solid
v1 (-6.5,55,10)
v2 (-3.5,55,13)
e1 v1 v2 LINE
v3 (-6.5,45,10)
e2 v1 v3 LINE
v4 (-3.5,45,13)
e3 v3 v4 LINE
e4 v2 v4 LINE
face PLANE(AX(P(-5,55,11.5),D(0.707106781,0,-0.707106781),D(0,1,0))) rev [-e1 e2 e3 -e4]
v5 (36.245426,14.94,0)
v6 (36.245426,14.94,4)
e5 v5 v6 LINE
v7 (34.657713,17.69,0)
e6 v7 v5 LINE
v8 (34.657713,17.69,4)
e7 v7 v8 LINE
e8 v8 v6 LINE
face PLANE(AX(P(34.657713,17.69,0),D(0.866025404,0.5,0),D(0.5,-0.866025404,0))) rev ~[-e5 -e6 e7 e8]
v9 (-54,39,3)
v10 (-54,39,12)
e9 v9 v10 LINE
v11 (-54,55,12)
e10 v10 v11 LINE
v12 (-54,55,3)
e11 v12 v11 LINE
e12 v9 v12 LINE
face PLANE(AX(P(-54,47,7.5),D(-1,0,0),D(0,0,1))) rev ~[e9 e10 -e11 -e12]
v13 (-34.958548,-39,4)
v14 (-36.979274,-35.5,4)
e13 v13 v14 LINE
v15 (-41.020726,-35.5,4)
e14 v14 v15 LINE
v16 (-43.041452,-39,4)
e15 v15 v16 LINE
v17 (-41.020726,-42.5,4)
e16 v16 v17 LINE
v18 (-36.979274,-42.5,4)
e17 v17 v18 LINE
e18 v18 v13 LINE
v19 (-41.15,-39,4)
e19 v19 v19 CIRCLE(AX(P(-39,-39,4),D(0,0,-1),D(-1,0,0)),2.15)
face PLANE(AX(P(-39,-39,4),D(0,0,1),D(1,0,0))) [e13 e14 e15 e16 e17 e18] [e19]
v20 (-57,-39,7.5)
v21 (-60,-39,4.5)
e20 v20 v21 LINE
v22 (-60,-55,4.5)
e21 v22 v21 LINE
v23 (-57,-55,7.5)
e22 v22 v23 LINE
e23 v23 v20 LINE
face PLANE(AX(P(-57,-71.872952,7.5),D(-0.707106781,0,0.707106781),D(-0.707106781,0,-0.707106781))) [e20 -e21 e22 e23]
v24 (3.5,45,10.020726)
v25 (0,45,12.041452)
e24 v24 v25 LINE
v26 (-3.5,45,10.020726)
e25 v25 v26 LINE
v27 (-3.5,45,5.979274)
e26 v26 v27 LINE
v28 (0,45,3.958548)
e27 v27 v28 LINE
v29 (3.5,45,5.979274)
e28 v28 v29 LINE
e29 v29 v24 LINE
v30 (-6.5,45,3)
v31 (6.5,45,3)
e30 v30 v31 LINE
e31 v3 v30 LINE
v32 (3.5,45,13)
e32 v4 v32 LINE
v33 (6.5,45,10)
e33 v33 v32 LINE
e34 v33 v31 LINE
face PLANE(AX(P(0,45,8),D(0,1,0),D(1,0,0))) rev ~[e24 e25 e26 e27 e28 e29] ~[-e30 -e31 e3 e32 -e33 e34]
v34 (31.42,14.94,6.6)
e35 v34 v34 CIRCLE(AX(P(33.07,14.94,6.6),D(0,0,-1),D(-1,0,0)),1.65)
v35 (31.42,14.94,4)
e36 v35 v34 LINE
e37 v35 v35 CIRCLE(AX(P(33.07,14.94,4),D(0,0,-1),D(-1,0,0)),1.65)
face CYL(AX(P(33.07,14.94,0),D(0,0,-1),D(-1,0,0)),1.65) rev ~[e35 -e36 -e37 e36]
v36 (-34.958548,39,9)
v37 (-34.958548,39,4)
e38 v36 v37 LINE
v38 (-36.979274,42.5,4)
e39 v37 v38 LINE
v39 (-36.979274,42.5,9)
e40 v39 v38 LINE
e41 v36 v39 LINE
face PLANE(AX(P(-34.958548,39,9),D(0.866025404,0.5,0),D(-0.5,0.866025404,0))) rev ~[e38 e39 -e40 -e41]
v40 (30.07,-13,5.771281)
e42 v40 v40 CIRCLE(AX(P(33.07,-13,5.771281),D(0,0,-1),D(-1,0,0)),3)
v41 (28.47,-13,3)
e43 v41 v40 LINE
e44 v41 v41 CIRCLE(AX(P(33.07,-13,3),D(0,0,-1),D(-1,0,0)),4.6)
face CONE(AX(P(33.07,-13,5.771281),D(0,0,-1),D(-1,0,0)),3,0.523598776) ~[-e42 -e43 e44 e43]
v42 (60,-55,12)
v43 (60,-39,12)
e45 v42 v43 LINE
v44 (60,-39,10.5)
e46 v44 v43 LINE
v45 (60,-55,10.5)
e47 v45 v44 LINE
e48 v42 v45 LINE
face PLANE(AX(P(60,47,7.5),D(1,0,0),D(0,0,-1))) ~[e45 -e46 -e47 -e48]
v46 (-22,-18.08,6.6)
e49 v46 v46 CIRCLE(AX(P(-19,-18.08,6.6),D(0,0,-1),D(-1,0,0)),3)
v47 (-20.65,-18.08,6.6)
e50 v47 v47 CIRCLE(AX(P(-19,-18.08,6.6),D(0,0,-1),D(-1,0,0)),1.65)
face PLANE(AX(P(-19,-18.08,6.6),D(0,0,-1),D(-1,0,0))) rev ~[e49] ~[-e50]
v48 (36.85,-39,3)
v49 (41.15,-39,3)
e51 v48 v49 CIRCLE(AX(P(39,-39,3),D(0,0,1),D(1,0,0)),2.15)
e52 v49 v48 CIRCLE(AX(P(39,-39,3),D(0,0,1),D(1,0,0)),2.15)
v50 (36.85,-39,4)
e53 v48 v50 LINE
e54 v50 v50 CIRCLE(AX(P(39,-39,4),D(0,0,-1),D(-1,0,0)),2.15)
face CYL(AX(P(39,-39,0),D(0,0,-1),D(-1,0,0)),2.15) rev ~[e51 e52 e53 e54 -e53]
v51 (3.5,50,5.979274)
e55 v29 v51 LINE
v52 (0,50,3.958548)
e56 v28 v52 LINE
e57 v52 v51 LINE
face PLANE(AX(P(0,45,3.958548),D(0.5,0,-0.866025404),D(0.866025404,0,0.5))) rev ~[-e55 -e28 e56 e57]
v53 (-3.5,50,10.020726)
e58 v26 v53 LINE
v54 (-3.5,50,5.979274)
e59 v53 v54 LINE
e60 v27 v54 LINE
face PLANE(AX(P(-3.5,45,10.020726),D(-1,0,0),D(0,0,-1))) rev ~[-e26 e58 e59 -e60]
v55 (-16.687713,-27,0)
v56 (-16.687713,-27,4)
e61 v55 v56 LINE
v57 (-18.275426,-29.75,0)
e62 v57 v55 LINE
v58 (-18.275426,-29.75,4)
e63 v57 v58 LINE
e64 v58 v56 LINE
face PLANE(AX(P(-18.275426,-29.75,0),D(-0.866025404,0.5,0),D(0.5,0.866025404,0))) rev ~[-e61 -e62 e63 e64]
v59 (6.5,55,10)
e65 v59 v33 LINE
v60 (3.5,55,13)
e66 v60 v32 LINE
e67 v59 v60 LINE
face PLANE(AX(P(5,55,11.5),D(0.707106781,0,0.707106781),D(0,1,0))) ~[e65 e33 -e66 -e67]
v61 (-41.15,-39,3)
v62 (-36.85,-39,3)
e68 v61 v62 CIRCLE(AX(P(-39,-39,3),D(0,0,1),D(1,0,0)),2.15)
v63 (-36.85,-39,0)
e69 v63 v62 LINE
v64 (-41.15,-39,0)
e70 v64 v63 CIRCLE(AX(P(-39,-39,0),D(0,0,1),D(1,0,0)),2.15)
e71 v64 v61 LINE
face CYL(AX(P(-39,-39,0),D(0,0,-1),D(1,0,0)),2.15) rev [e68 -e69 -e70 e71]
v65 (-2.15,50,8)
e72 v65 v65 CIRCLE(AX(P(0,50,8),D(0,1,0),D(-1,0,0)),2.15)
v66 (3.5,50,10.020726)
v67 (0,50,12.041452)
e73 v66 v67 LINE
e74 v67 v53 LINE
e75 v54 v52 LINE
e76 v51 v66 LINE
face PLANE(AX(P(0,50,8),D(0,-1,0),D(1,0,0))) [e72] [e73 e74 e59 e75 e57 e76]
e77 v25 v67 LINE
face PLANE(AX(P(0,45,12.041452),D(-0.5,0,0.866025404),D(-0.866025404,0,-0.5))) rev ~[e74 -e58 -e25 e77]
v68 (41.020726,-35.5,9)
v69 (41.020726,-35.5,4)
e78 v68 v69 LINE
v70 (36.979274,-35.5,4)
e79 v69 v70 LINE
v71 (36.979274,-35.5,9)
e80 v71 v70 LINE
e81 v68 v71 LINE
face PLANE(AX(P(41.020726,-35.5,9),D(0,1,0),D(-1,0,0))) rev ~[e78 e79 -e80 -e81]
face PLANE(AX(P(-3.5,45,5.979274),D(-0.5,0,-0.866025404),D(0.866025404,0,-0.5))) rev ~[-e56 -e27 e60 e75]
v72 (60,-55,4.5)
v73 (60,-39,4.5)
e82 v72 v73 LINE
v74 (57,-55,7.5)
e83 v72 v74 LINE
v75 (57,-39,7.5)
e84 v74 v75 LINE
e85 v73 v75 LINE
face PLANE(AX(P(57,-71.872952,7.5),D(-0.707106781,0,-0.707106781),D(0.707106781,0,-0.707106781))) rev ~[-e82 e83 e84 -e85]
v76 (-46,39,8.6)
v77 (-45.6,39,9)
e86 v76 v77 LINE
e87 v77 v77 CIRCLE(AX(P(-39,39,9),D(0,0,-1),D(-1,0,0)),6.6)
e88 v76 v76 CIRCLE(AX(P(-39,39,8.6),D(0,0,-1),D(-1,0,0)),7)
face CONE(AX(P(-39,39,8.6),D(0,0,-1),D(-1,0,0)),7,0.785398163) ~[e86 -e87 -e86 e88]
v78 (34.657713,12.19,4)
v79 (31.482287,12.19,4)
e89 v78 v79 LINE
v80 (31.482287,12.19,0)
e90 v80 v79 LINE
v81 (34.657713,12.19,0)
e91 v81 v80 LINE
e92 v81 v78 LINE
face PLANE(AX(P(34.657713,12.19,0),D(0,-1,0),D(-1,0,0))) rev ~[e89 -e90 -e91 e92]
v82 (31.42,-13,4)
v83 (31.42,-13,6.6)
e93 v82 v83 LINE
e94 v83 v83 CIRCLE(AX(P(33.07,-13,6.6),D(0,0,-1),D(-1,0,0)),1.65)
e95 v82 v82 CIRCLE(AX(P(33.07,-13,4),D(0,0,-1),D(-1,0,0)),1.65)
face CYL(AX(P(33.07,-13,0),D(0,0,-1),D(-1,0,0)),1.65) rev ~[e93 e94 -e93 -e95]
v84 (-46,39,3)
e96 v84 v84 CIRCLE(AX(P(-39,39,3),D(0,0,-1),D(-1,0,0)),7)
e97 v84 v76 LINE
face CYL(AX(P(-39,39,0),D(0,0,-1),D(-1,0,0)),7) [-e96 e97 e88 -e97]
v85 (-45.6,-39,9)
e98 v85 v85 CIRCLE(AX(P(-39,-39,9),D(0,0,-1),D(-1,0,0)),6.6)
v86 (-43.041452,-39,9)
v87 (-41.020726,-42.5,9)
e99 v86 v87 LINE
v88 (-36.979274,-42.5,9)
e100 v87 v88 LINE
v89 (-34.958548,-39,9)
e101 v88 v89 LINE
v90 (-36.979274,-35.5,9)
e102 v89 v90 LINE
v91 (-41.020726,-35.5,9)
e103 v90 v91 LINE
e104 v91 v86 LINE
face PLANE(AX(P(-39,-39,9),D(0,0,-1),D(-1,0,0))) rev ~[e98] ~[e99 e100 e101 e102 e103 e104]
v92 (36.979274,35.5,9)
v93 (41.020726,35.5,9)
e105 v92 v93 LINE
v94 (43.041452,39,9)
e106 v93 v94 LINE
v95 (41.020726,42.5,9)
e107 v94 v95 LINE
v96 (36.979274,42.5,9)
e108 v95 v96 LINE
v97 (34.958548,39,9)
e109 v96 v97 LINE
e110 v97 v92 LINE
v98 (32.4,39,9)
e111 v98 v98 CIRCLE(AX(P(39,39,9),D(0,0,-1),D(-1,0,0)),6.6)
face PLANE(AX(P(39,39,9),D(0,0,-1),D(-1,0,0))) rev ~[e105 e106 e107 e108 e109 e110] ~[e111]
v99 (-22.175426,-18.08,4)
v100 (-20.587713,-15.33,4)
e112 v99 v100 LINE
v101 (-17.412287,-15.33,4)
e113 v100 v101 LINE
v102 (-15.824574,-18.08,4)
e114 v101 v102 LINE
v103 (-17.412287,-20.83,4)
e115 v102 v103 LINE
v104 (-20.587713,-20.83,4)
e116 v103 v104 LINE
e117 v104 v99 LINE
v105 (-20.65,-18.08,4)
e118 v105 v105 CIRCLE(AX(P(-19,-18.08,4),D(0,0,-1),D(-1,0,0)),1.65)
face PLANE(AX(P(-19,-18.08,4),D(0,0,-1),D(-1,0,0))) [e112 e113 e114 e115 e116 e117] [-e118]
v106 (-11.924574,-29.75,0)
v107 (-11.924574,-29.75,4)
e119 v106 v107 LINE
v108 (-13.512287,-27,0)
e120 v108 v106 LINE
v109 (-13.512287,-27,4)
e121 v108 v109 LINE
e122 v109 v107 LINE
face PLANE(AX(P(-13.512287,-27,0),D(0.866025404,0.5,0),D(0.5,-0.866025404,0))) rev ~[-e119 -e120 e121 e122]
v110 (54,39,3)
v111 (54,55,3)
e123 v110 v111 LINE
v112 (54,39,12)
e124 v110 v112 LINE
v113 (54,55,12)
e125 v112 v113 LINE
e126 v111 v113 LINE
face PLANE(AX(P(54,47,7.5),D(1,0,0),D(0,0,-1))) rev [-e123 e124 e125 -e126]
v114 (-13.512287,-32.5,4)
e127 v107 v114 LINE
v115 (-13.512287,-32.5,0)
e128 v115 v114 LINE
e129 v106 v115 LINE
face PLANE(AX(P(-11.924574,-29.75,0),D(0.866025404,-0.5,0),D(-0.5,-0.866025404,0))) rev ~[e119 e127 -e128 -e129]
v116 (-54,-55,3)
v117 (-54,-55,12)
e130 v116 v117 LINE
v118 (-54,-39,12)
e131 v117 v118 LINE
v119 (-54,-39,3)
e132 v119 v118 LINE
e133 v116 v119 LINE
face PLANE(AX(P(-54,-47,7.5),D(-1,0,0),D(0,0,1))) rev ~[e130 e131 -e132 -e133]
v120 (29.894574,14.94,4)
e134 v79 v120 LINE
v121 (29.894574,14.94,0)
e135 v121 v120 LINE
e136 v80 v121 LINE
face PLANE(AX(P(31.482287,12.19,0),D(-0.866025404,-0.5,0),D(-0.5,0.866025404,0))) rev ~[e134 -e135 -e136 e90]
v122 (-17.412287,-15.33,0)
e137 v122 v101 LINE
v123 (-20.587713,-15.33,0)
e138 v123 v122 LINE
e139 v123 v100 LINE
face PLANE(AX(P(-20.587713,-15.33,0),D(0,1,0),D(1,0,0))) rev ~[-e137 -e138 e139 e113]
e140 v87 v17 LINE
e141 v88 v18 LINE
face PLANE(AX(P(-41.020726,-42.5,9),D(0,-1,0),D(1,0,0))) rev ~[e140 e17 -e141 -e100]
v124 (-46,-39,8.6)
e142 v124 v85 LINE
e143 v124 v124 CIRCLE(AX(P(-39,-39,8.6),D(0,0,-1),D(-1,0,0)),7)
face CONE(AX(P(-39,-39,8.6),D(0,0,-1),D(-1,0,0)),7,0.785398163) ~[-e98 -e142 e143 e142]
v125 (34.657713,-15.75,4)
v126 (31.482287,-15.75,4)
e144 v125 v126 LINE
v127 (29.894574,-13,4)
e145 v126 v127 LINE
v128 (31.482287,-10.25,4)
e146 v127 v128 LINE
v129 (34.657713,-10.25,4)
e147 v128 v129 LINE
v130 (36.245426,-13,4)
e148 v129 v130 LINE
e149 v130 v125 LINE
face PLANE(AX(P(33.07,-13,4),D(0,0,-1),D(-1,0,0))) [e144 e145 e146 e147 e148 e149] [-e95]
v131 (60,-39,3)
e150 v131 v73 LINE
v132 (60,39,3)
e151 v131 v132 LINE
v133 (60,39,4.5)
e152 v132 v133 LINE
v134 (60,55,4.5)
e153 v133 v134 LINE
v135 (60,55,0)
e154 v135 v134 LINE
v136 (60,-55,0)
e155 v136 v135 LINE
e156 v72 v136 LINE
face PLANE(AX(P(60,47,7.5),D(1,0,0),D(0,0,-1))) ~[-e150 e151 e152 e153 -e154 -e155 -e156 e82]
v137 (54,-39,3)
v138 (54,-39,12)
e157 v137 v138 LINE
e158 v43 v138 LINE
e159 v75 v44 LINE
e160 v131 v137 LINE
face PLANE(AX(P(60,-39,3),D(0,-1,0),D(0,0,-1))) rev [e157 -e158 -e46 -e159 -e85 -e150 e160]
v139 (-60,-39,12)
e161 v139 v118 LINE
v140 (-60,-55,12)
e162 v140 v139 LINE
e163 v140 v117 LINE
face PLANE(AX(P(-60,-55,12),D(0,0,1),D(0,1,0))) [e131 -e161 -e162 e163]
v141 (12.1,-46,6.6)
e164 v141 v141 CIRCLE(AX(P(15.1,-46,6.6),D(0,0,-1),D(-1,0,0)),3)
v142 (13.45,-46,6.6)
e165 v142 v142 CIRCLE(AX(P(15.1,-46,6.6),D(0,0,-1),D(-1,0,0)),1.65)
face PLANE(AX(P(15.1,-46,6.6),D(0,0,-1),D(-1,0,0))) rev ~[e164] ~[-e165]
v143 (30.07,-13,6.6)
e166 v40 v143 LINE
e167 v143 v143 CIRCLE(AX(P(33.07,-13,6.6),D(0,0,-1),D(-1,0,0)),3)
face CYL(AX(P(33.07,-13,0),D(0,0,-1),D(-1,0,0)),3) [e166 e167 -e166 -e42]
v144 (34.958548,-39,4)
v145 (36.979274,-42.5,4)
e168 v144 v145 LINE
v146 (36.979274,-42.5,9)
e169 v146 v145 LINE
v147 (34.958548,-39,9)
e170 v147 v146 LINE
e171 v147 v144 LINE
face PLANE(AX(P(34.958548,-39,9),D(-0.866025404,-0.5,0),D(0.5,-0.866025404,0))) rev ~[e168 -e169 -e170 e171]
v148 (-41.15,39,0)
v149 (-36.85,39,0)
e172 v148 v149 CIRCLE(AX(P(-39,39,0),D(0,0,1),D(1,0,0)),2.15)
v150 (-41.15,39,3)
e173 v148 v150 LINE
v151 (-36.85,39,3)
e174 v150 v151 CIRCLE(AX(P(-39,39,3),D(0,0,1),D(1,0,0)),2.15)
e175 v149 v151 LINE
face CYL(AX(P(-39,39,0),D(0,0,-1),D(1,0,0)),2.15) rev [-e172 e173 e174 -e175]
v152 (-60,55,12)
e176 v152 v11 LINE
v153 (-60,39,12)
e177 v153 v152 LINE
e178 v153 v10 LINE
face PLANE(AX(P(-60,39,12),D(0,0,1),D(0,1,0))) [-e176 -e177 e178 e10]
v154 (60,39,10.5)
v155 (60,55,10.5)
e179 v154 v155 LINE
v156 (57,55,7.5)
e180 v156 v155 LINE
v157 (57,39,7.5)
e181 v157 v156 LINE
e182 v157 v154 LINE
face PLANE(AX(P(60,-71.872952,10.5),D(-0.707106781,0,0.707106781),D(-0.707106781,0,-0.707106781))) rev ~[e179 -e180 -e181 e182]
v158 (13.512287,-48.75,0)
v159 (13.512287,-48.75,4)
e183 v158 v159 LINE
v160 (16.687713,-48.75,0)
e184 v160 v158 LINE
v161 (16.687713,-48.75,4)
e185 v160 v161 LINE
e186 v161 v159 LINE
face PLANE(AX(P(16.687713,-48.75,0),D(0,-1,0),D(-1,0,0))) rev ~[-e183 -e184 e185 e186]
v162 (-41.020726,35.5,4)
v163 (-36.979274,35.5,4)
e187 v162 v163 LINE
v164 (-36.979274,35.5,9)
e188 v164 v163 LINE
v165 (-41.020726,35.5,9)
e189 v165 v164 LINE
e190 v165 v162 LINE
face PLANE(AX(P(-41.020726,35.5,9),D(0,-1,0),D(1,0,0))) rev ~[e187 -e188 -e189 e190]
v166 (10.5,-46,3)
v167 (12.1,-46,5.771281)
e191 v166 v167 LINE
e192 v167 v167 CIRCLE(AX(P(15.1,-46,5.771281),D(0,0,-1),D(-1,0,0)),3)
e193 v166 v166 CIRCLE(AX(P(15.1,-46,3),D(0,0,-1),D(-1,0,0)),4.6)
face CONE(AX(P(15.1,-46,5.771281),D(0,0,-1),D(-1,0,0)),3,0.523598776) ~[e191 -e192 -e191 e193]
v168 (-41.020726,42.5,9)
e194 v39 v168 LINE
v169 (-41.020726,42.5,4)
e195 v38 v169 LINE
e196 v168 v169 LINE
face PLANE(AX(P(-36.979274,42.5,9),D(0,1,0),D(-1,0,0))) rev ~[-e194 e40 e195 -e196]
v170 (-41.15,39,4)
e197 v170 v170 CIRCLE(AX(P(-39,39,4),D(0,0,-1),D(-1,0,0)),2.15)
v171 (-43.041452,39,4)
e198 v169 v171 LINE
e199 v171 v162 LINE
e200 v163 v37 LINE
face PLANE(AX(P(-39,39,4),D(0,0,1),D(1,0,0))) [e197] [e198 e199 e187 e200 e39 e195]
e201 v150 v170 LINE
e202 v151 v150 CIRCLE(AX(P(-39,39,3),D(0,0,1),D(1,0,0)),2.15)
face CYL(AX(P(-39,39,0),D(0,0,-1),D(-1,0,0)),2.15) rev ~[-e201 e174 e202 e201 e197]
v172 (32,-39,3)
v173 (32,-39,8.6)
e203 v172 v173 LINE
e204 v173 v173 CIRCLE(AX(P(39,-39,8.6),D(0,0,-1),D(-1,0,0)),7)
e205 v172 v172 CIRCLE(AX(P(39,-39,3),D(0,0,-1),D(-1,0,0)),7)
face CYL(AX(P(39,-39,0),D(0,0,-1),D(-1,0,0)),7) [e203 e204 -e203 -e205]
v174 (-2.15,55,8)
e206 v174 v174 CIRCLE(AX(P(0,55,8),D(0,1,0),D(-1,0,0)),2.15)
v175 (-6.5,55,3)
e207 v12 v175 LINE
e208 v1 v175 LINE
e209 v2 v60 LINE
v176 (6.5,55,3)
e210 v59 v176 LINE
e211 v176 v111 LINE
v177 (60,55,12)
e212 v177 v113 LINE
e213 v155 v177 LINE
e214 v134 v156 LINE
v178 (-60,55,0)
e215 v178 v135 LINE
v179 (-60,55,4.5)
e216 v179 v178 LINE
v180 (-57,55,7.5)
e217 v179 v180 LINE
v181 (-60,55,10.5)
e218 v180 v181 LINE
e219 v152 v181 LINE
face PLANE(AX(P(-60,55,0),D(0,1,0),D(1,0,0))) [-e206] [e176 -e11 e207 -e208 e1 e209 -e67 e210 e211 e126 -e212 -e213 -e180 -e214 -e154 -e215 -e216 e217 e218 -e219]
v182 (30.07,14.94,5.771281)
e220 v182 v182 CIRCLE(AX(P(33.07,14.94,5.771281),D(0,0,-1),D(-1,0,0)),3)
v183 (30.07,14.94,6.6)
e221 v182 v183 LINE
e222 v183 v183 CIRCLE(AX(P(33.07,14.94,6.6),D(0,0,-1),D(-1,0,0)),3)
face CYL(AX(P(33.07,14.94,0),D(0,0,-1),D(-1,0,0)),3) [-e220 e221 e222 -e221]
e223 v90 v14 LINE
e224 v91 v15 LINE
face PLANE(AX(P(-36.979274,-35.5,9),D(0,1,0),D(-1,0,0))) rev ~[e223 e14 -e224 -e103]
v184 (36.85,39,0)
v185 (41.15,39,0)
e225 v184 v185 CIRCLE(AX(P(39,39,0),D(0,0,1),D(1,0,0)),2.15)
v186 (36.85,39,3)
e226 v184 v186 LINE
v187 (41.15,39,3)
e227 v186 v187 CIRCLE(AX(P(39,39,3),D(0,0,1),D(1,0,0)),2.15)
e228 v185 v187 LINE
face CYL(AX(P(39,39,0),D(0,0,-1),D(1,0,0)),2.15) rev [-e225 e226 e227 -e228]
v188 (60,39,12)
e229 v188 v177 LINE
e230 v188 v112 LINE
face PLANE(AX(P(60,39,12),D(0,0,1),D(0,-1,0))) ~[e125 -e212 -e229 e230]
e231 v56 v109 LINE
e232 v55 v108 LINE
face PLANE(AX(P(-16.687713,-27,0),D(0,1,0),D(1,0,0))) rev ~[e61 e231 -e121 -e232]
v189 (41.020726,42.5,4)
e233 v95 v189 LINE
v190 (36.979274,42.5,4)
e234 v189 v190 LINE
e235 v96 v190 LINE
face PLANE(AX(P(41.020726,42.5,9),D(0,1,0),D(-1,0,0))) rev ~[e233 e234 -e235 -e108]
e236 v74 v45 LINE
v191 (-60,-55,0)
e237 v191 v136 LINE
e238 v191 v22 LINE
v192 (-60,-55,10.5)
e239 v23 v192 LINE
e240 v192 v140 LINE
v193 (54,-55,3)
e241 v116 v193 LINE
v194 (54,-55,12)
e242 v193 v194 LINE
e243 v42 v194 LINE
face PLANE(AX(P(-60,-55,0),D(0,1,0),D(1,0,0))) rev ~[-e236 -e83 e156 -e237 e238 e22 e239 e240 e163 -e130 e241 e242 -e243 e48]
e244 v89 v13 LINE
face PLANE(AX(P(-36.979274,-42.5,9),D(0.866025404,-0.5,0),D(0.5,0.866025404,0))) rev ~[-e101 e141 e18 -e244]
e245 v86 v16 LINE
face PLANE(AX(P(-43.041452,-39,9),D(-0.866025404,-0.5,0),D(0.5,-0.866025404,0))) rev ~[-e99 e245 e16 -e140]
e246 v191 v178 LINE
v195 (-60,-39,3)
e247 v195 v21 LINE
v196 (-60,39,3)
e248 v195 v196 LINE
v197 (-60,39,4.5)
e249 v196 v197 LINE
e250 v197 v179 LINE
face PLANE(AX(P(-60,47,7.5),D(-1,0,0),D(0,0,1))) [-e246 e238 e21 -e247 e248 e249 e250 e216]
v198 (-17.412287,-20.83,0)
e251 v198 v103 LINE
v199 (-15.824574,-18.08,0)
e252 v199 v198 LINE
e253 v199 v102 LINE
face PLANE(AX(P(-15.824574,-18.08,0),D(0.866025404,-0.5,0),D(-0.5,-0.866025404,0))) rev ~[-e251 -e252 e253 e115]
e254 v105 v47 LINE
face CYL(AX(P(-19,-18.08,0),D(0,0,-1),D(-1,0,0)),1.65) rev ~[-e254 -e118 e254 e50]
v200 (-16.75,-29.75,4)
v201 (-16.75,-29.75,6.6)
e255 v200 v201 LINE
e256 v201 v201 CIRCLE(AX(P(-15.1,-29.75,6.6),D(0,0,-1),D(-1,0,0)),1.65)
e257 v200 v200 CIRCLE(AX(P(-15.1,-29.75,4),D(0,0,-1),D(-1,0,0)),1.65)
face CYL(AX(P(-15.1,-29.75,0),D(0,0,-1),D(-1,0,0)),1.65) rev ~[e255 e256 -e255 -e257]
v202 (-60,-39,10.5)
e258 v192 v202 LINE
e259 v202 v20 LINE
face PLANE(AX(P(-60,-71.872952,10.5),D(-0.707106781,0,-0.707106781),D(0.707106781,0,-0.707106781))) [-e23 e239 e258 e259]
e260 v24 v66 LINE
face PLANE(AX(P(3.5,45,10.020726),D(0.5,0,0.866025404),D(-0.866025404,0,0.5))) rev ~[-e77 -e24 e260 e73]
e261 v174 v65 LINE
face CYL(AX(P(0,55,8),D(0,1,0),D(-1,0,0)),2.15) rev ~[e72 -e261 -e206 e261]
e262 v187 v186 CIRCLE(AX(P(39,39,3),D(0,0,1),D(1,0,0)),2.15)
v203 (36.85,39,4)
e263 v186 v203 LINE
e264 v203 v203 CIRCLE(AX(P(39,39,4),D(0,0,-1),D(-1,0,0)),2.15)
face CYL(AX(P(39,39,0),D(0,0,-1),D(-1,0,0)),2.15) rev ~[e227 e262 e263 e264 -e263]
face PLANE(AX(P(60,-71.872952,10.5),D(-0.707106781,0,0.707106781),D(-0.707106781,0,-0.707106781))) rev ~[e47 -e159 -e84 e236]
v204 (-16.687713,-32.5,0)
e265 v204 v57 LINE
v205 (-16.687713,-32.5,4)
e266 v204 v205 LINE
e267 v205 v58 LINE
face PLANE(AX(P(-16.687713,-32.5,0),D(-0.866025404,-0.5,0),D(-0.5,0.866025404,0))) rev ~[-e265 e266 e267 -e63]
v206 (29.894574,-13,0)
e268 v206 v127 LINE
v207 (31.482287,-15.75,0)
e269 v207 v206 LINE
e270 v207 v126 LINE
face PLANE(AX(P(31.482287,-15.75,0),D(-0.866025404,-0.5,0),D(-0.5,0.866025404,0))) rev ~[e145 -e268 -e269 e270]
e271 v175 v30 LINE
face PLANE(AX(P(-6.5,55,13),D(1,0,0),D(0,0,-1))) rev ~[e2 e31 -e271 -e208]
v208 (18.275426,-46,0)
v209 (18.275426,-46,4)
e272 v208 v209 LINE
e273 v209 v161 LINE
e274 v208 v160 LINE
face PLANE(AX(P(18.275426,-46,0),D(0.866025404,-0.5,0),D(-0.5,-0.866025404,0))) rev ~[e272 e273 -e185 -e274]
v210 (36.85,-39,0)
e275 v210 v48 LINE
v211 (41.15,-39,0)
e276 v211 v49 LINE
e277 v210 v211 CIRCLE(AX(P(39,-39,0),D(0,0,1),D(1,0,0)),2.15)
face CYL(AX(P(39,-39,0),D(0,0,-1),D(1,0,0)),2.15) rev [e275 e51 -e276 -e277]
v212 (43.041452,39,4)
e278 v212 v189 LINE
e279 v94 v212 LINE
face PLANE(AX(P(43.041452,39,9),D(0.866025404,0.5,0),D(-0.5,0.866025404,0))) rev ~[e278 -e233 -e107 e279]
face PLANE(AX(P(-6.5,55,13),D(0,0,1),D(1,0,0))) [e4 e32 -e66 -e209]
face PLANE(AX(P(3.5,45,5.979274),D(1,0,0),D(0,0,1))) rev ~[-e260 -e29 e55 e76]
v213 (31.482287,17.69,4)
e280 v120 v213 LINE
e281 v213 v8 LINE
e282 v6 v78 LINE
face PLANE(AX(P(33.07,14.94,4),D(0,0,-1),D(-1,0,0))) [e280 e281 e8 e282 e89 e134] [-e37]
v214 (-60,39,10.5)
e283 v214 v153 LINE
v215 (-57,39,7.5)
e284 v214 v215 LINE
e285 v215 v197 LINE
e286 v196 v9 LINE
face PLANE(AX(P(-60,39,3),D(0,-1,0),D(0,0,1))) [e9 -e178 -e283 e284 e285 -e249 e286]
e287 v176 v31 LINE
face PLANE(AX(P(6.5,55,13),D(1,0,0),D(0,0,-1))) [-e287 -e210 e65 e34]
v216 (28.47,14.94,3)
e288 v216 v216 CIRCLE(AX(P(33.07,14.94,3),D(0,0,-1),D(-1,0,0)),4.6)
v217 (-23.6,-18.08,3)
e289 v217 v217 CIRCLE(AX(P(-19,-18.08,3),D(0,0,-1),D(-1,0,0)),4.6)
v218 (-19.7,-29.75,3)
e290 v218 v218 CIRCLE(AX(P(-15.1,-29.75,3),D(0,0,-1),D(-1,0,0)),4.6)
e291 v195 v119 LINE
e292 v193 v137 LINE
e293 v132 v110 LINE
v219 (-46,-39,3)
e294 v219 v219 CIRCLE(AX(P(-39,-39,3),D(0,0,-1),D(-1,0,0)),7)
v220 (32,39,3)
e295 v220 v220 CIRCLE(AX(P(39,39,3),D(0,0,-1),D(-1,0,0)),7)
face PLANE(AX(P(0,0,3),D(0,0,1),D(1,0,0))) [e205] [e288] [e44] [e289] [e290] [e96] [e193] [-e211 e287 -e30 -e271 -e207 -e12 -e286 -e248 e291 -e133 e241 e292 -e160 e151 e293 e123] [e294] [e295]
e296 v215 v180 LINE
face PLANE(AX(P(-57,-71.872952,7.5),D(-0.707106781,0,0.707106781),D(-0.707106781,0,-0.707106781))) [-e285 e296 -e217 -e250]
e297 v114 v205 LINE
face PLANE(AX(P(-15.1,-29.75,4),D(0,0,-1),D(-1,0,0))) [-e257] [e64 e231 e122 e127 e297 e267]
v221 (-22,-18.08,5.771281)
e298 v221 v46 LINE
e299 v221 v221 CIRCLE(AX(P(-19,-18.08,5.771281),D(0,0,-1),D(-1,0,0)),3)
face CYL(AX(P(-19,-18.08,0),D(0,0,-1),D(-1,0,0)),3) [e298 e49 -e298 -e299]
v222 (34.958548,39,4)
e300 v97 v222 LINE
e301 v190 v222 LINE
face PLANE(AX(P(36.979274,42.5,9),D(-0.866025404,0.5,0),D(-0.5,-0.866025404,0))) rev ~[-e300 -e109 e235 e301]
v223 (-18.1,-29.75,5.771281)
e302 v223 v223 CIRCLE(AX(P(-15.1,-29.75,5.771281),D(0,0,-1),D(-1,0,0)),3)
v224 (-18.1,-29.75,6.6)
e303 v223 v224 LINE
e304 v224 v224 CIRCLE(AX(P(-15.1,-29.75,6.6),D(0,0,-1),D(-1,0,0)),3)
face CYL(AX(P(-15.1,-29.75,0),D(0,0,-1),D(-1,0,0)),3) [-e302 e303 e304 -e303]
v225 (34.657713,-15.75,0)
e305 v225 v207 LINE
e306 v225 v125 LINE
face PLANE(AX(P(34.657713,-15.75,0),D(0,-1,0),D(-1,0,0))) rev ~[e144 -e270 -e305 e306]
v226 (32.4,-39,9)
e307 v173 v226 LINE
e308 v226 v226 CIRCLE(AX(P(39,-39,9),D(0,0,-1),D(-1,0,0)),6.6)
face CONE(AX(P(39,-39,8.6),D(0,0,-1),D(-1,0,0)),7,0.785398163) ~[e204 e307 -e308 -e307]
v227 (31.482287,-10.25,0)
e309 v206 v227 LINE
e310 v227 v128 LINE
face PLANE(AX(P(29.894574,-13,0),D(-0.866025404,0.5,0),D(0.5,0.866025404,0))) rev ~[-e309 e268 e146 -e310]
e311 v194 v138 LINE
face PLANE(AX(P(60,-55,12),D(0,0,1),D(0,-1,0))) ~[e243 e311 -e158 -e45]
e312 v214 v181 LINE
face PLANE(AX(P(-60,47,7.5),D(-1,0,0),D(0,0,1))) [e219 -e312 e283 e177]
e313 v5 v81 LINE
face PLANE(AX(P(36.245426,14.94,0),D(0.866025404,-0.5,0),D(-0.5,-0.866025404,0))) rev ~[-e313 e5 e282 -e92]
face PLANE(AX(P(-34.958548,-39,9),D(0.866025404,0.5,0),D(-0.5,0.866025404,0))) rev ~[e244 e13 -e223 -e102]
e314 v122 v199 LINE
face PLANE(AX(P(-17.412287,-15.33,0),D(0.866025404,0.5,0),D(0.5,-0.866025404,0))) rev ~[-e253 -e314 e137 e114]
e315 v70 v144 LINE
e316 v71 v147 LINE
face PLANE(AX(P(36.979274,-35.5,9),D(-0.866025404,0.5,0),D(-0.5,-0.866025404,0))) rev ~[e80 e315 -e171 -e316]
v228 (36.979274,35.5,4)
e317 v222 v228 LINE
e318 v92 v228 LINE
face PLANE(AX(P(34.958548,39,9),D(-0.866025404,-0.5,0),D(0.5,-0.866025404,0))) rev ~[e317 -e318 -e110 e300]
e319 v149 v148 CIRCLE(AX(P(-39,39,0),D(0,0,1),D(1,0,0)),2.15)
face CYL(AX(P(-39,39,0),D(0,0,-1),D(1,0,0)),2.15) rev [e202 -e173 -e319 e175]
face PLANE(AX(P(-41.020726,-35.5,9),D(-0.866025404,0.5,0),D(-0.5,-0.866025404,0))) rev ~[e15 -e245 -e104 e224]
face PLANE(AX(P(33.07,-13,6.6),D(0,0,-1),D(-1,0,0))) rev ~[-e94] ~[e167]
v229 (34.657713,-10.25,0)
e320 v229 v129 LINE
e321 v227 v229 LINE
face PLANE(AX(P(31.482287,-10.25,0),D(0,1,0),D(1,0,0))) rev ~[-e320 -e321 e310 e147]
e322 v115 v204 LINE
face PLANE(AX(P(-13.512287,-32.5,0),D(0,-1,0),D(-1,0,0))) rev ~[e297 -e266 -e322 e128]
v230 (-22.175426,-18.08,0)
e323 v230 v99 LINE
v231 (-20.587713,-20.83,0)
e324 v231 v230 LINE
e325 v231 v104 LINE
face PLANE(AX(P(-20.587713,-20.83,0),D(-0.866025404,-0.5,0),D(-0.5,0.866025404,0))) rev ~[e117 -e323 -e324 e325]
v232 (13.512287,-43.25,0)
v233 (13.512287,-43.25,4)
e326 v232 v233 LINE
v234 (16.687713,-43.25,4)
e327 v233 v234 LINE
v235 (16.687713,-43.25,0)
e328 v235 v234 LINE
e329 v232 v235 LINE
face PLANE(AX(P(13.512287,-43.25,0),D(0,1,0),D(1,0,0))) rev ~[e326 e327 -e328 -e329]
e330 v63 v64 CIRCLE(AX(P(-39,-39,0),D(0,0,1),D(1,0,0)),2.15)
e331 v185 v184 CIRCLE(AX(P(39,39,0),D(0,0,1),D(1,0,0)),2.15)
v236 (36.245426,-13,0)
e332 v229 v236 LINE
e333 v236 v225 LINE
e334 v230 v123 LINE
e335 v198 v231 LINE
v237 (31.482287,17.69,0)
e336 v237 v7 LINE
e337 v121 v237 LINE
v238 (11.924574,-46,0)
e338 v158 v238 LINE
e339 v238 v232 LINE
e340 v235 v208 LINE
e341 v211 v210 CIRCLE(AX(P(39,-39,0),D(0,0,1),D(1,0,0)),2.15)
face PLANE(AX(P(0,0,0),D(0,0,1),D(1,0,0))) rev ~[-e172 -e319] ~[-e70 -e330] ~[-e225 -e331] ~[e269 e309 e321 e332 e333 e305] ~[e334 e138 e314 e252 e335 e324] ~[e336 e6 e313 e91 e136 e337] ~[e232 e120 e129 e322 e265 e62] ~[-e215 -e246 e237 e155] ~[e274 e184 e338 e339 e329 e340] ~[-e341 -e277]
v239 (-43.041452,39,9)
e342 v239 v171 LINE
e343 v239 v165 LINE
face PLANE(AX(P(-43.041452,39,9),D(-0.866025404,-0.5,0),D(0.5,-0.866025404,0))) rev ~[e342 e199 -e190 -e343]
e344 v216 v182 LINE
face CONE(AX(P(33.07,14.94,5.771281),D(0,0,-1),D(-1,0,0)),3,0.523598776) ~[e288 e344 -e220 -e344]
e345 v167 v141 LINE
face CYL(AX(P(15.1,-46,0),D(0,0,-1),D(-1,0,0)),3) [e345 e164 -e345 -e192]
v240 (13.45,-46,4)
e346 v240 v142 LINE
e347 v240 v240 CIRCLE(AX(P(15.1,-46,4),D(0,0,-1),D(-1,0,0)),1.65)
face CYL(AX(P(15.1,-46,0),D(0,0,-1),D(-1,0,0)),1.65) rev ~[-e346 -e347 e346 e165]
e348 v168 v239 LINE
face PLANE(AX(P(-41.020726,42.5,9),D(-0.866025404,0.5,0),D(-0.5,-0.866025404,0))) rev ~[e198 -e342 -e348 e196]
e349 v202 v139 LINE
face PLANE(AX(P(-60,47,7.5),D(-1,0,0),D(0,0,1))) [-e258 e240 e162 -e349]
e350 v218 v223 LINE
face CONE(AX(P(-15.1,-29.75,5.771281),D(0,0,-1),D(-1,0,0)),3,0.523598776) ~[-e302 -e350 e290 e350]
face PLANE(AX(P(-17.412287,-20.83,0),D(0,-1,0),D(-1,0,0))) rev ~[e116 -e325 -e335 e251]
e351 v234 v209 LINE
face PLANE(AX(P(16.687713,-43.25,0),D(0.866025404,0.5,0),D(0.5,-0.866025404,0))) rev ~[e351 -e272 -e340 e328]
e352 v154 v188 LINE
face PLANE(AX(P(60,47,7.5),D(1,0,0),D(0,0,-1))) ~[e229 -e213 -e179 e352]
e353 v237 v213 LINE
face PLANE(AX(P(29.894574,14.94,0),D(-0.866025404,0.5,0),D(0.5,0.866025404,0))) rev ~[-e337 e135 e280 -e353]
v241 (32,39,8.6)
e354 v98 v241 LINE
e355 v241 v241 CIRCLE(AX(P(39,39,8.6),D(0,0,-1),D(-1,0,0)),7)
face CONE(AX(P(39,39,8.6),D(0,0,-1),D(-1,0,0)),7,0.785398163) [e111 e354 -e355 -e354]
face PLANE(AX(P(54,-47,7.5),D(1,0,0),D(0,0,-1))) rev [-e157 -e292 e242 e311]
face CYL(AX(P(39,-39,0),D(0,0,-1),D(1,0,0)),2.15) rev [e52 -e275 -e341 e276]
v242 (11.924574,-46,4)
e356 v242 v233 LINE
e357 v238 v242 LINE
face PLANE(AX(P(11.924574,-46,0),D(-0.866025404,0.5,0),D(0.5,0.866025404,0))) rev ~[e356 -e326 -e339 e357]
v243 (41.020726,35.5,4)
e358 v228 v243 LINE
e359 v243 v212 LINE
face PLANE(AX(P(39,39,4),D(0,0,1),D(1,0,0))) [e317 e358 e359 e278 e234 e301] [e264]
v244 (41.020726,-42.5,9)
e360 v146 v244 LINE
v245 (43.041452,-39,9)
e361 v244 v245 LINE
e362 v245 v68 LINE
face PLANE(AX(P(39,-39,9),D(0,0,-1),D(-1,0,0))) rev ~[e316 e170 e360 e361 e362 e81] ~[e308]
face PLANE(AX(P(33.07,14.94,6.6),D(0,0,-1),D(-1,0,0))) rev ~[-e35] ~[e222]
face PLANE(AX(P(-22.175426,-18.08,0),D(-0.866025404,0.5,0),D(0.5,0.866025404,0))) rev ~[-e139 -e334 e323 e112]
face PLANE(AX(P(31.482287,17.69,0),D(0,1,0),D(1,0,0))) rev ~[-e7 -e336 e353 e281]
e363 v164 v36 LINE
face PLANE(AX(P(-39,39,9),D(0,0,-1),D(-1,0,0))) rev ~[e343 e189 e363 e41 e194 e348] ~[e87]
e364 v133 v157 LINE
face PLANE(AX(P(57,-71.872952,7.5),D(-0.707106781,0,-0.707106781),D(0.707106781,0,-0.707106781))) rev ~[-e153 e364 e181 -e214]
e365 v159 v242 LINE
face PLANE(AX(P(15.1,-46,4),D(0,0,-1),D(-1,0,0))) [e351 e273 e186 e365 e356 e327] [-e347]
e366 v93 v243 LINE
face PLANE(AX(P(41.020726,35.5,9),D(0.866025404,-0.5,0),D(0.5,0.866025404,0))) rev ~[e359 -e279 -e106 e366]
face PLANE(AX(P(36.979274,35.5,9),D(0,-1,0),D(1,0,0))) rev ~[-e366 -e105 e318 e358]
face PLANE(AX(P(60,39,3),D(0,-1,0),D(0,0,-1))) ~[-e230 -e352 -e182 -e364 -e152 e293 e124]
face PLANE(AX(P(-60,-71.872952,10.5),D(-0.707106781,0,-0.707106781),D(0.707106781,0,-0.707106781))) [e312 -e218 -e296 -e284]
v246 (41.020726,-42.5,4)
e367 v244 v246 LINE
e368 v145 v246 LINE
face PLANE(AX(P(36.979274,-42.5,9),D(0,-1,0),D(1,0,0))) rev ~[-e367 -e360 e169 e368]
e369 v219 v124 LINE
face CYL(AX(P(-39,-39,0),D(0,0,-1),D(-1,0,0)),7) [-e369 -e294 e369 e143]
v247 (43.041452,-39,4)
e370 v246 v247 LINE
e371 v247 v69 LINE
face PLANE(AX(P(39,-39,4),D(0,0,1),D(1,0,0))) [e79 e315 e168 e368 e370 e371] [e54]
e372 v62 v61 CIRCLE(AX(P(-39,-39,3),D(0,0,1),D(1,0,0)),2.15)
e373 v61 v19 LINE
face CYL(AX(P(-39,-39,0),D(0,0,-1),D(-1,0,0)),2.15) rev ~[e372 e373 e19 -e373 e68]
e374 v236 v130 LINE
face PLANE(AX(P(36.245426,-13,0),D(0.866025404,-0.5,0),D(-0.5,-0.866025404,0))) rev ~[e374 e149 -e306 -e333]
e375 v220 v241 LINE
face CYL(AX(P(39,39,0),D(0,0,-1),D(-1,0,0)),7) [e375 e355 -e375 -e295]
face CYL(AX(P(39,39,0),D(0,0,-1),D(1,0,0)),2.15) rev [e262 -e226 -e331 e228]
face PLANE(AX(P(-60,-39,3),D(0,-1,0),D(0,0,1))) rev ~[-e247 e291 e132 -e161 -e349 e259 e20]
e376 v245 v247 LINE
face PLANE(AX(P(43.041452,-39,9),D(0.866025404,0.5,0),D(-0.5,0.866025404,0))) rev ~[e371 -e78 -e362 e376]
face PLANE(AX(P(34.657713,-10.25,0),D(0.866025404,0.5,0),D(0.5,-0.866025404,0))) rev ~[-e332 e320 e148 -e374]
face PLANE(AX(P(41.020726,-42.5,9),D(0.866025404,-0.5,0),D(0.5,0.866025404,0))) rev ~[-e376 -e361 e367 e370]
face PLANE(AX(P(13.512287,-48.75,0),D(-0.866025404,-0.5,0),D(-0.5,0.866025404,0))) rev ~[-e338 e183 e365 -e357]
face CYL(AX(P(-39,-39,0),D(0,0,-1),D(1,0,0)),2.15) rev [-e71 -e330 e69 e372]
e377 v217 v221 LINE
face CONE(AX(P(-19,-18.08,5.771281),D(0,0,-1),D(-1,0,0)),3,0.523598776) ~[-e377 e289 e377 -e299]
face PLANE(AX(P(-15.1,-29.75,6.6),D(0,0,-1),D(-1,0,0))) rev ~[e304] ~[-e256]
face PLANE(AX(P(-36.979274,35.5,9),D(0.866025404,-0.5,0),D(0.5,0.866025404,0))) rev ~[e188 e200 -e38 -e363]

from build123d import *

# Parameters (mm, degrees)
SKETCH1_W               = 120
SKETCH1_H               = 110
SKETCH1_R               = 2.15
SKETCH1_R_2             = 1.65
BOSS_EXTRUDE1_DEPTH     = 3
SKETCH2_R               = 3
SKETCH2_R_2             = 1.65
BOSS_EXTRUDE2_DEPTH     = 6.6
CHAMFER5_SIZE           = 1.6
CHAMFER5_SIZE2          = 2.771281292
CUT_EXTRUDE1_DEPTH      = 4
SKETCH4_R               = 7
SKETCH4_R_2             = 2.15
BOSS_EXTRUDE3_DEPTH     = 9
CUT_EXTRUDE2_DEPTH      = 5
CHAMFER2_SIZE           = 0.4
SKETCH6_W               = 9
SKETCH6_H               = 16
BOSS_EXTRUDE4_DEPTH     = 6
CUT_EXTRUDE3_DEPTH      = 126.87295182
CUT_EXTRUDE3_DEPTH_BACK = 126.87295182
SKETCH8_W               = 13
SKETCH8_H               = 10
SKETCH8_R               = 2.15
BOSS_EXTRUDE5_DEPTH     = 10
CUT_EXTRUDE5_DEPTH      = 5
CHAMFER9_SIZE           = 3


with BuildPart() as part:
    # Sketch1 → Boss-Extrude1 (new body)
    with BuildSketch(Plane.XY):
        Rectangle(SKETCH1_W, SKETCH1_H)
        with Locations((-39, 39)):
            Circle(SKETCH1_R, mode=Mode.SUBTRACT)
        with Locations((39, 39)):
            Circle(SKETCH1_R, mode=Mode.SUBTRACT)
        with Locations((39, -39)):
            Circle(SKETCH1_R, mode=Mode.SUBTRACT)
        with Locations((-39, -39)):
            Circle(SKETCH1_R, mode=Mode.SUBTRACT)
        with Locations((33.07, 14.94)):
            Circle(SKETCH1_R_2, mode=Mode.SUBTRACT)
        with Locations((33.07, -13)):
            Circle(SKETCH1_R_2, mode=Mode.SUBTRACT)
        with Locations((-19, -18.08)):
            Circle(SKETCH1_R_2, mode=Mode.SUBTRACT)
        with Locations((-15.1, -29.75)):
            Circle(SKETCH1_R_2, mode=Mode.SUBTRACT)
        with Locations((15.1, -46)):
            Circle(SKETCH1_R_2, mode=Mode.SUBTRACT)
    extrude(amount=BOSS_EXTRUDE1_DEPTH)

    # Sketch2 → Boss-Extrude2 (add)
    # profile 1 of 5: a face of its own
    with BuildSketch(Plane(origin=(0, 0, 0), x_dir=(-1, 0, 0), z_dir=(0, 0, -1))):
        with Locations((-33.07, -13)):
            Circle(SKETCH2_R)
        with Locations((-33.07, -13)):
            Circle(SKETCH2_R_2, mode=Mode.SUBTRACT)
    # profile 2 of 5: a face of its own
    with BuildSketch(Plane(origin=(0, 0, 0), x_dir=(-1, 0, 0), z_dir=(0, 0, -1))):
        with Locations((19, -18.08)):
            Circle(SKETCH2_R)
        with Locations((19, -18.08)):
            Circle(SKETCH2_R_2, mode=Mode.SUBTRACT)
    # profile 3 of 5: a face of its own
    with BuildSketch(Plane(origin=(0, 0, 0), x_dir=(-1, 0, 0), z_dir=(0, 0, -1))):
        with Locations((-33.07, 14.94)):
            Circle(SKETCH2_R)
        with Locations((-33.07, 14.94)):
            Circle(SKETCH2_R_2, mode=Mode.SUBTRACT)
    # profile 4 of 5: a face of its own
    with BuildSketch(Plane(origin=(0, 0, 0), x_dir=(-1, 0, 0), z_dir=(0, 0, -1))):
        with Locations((-15.1, -46)):
            Circle(SKETCH2_R)
        with Locations((-15.1, -46)):
            Circle(SKETCH2_R_2, mode=Mode.SUBTRACT)
    # profile 5 of 5: a face of its own
    with BuildSketch(Plane(origin=(0, 0, 0), x_dir=(-1, 0, 0), z_dir=(0, 0, -1))):
        with Locations((15.1, -29.75)):
            Circle(SKETCH2_R)
        with Locations((15.1, -29.75)):
            Circle(SKETCH2_R_2, mode=Mode.SUBTRACT)
    extrude(amount=-BOSS_EXTRUDE2_DEPTH)

    # Chamfer5
    chamfer5_edges = [part.edges().sort_by_distance(p)[0] for p in [
        (36.07, -13, 3),
        (-16, -18.08, 3),
        (36.07, 14.94, 3),
        (18.1, -46, 3),
        (-12.1, -29.75, 3),
    ]]
    chamfer5_side = [part.faces().sort_by_distance(p)[0] for p in [
        (-0.102522824, 0.199847736, 3),
    ]]
    chamfer(chamfer5_edges, length=CHAMFER5_SIZE, length2=CHAMFER5_SIZE2, reference=chamfer5_side[0])

    # Sketch3 → Cut-Extrude1 (cut)
    with BuildSketch(Plane(origin=(0, 0, 0), x_dir=(-1, 0, 0), z_dir=(0, 0, -1))):
        Polygon((-31.48228676, 12.19), (-29.894573519, 14.94), (-31.48228676, 17.69), (-34.65771324, 17.69), (-36.245426481, 14.94), (-34.65771324, 12.19), align=None)
        Polygon((-31.48228676, -15.75), (-29.894573519, -13), (-31.48228676, -10.25), (-34.65771324, -10.25), (-36.245426481, -13), (-34.65771324, -15.75), align=None)
        Polygon((20.58771324, -20.83), (22.175426481, -18.08), (20.58771324, -15.33), (17.41228676, -15.33), (15.824573519, -18.08), (17.41228676, -20.83), align=None)
        Polygon((16.68771324, -32.5), (18.275426481, -29.75), (16.68771324, -27), (13.51228676, -27), (11.924573519, -29.75), (13.51228676, -32.5), align=None)
        Polygon((-13.51228676, -48.75), (-11.924573519, -46), (-13.51228676, -43.25), (-16.68771324, -43.25), (-18.275426481, -46), (-16.68771324, -48.75), align=None)
    extrude(amount=-CUT_EXTRUDE1_DEPTH, mode=Mode.SUBTRACT)

    # Sketch4 → Boss-Extrude3 (add)
    # profile 1 of 4: a face of its own
    with BuildSketch(Plane(origin=(0, 0, 0), x_dir=(-1, 0, 0), z_dir=(0, 0, -1))):
        with Locations((-39, 39)):
            Circle(SKETCH4_R)
        with Locations((-39, 39)):
            Circle(SKETCH4_R_2, mode=Mode.SUBTRACT)
    # profile 2 of 4: a face of its own
    with BuildSketch(Plane(origin=(0, 0, 0), x_dir=(-1, 0, 0), z_dir=(0, 0, -1))):
        with Locations((39, 39)):
            Circle(SKETCH4_R)
        with Locations((39, 39)):
            Circle(SKETCH4_R_2, mode=Mode.SUBTRACT)
    # profile 3 of 4: a face of its own
    with BuildSketch(Plane(origin=(0, 0, 0), x_dir=(-1, 0, 0), z_dir=(0, 0, -1))):
        with Locations((39, -39)):
            Circle(SKETCH4_R)
        with Locations((39, -39)):
            Circle(SKETCH4_R_2, mode=Mode.SUBTRACT)
    # profile 4 of 4: a face of its own
    with BuildSketch(Plane(origin=(0, 0, 0), x_dir=(-1, 0, 0), z_dir=(0, 0, -1))):
        with Locations((-39, -39)):
            Circle(SKETCH4_R)
        with Locations((-39, -39)):
            Circle(SKETCH4_R_2, mode=Mode.SUBTRACT)
    extrude(amount=-BOSS_EXTRUDE3_DEPTH)

    # Sketch5 → Cut-Extrude2 (cut)
    with BuildSketch(Plane.XY.offset(9)):
        Polygon((-36.979274058, 42.5), (-41.020725942, 42.5), (-43.041451884, 39), (-41.020725942, 35.5), (-36.979274058, 35.5), (-34.958548116, 39), align=None)
        Polygon((36.979274058, 42.5), (34.958548116, 39), (36.979274058, 35.5), (41.020725942, 35.5), (43.041451884, 39), (41.020725942, 42.5), align=None)
        Polygon((36.979274058, -35.5), (34.958548116, -39), (36.979274058, -42.5), (41.020725942, -42.5), (43.041451884, -39), (41.020725942, -35.5), align=None)
        Polygon((-36.979274058, -35.5), (-41.020725942, -35.5), (-43.041451884, -39), (-41.020725942, -42.5), (-36.979274058, -42.5), (-34.958548116, -39), align=None)
    extrude(amount=-CUT_EXTRUDE2_DEPTH, mode=Mode.SUBTRACT)

    # Chamfer2
    chamfer2_edges = [part.edges().sort_by_distance(p)[0] for p in [
        (46, 39, 9),
        (-32, 39, 9),
        (-32, -39, 9),
        (46, -39, 9),
    ]]
    chamfer(chamfer2_edges, length=CHAMFER2_SIZE)

    # Sketch6 → Boss-Extrude4 (add)
    with BuildSketch(Plane.ZY.offset(60)):
        with Locations((7.5, 47)):
            Rectangle(SKETCH6_W, SKETCH6_H)
        with Locations((7.5, -47)):
            Rectangle(SKETCH6_W, SKETCH6_H)
    boss_extrude4 = extrude(amount=-BOSS_EXTRUDE4_DEPTH)

    # Mirror1: Boss-Extrude4 across plane
    add(boss_extrude4.mirror(Plane(origin=(0, 0, 0), x_dir=(0, 0, 1), z_dir=(1, 0, 0))))

    # Sketch7 → Cut-Extrude3 (cut, two sides: drawn at the far end of the back side and taken through both)
    with BuildSketch(Plane(origin=(0, 55, 0), x_dir=(1, 0, 0), z_dir=(0, 1, 0)).offset(-CUT_EXTRUDE3_DEPTH_BACK)):
        Polygon((-60, -10.5), (-57, -7.5), (-60, -4.5), align=None)
        Polygon((60, -10.5), (57, -7.5), (60, -4.5), align=None)
    extrude(amount=CUT_EXTRUDE3_DEPTH + CUT_EXTRUDE3_DEPTH_BACK, mode=Mode.SUBTRACT)

    # Sketch8 → Boss-Extrude5 (add)
    with BuildSketch(Plane(origin=(0, 55, 0), x_dir=(1, 0, 0), z_dir=(0, 1, 0))):
        with Locations((0, -8)):
            Rectangle(SKETCH8_W, SKETCH8_H)
        with Locations(Location((0, -8, 0), (0, 0, 180))):
            Circle(SKETCH8_R, mode=Mode.SUBTRACT)
    extrude(amount=-BOSS_EXTRUDE5_DEPTH)

    # Sketch9 → Cut-Extrude5 (cut)
    with BuildSketch(Plane.XZ.offset(-45)):
        Polygon((0, 12.041451884), (-3.5, 10.020725942), (-3.5, 5.979274058), (0, 3.958548116), (3.5, 5.979274058), (3.5, 10.020725942), align=None)
    extrude(amount=-CUT_EXTRUDE5_DEPTH, mode=Mode.SUBTRACT)

    # Chamfer9
    chamfer9_edges = [part.edges().sort_by_distance(p)[0] for p in [
        (-6.5, 50, 13),
        (6.5, 50, 13),
    ]]
    chamfer(chamfer9_edges, length=CHAMFER9_SIZE)


solid = part.part
